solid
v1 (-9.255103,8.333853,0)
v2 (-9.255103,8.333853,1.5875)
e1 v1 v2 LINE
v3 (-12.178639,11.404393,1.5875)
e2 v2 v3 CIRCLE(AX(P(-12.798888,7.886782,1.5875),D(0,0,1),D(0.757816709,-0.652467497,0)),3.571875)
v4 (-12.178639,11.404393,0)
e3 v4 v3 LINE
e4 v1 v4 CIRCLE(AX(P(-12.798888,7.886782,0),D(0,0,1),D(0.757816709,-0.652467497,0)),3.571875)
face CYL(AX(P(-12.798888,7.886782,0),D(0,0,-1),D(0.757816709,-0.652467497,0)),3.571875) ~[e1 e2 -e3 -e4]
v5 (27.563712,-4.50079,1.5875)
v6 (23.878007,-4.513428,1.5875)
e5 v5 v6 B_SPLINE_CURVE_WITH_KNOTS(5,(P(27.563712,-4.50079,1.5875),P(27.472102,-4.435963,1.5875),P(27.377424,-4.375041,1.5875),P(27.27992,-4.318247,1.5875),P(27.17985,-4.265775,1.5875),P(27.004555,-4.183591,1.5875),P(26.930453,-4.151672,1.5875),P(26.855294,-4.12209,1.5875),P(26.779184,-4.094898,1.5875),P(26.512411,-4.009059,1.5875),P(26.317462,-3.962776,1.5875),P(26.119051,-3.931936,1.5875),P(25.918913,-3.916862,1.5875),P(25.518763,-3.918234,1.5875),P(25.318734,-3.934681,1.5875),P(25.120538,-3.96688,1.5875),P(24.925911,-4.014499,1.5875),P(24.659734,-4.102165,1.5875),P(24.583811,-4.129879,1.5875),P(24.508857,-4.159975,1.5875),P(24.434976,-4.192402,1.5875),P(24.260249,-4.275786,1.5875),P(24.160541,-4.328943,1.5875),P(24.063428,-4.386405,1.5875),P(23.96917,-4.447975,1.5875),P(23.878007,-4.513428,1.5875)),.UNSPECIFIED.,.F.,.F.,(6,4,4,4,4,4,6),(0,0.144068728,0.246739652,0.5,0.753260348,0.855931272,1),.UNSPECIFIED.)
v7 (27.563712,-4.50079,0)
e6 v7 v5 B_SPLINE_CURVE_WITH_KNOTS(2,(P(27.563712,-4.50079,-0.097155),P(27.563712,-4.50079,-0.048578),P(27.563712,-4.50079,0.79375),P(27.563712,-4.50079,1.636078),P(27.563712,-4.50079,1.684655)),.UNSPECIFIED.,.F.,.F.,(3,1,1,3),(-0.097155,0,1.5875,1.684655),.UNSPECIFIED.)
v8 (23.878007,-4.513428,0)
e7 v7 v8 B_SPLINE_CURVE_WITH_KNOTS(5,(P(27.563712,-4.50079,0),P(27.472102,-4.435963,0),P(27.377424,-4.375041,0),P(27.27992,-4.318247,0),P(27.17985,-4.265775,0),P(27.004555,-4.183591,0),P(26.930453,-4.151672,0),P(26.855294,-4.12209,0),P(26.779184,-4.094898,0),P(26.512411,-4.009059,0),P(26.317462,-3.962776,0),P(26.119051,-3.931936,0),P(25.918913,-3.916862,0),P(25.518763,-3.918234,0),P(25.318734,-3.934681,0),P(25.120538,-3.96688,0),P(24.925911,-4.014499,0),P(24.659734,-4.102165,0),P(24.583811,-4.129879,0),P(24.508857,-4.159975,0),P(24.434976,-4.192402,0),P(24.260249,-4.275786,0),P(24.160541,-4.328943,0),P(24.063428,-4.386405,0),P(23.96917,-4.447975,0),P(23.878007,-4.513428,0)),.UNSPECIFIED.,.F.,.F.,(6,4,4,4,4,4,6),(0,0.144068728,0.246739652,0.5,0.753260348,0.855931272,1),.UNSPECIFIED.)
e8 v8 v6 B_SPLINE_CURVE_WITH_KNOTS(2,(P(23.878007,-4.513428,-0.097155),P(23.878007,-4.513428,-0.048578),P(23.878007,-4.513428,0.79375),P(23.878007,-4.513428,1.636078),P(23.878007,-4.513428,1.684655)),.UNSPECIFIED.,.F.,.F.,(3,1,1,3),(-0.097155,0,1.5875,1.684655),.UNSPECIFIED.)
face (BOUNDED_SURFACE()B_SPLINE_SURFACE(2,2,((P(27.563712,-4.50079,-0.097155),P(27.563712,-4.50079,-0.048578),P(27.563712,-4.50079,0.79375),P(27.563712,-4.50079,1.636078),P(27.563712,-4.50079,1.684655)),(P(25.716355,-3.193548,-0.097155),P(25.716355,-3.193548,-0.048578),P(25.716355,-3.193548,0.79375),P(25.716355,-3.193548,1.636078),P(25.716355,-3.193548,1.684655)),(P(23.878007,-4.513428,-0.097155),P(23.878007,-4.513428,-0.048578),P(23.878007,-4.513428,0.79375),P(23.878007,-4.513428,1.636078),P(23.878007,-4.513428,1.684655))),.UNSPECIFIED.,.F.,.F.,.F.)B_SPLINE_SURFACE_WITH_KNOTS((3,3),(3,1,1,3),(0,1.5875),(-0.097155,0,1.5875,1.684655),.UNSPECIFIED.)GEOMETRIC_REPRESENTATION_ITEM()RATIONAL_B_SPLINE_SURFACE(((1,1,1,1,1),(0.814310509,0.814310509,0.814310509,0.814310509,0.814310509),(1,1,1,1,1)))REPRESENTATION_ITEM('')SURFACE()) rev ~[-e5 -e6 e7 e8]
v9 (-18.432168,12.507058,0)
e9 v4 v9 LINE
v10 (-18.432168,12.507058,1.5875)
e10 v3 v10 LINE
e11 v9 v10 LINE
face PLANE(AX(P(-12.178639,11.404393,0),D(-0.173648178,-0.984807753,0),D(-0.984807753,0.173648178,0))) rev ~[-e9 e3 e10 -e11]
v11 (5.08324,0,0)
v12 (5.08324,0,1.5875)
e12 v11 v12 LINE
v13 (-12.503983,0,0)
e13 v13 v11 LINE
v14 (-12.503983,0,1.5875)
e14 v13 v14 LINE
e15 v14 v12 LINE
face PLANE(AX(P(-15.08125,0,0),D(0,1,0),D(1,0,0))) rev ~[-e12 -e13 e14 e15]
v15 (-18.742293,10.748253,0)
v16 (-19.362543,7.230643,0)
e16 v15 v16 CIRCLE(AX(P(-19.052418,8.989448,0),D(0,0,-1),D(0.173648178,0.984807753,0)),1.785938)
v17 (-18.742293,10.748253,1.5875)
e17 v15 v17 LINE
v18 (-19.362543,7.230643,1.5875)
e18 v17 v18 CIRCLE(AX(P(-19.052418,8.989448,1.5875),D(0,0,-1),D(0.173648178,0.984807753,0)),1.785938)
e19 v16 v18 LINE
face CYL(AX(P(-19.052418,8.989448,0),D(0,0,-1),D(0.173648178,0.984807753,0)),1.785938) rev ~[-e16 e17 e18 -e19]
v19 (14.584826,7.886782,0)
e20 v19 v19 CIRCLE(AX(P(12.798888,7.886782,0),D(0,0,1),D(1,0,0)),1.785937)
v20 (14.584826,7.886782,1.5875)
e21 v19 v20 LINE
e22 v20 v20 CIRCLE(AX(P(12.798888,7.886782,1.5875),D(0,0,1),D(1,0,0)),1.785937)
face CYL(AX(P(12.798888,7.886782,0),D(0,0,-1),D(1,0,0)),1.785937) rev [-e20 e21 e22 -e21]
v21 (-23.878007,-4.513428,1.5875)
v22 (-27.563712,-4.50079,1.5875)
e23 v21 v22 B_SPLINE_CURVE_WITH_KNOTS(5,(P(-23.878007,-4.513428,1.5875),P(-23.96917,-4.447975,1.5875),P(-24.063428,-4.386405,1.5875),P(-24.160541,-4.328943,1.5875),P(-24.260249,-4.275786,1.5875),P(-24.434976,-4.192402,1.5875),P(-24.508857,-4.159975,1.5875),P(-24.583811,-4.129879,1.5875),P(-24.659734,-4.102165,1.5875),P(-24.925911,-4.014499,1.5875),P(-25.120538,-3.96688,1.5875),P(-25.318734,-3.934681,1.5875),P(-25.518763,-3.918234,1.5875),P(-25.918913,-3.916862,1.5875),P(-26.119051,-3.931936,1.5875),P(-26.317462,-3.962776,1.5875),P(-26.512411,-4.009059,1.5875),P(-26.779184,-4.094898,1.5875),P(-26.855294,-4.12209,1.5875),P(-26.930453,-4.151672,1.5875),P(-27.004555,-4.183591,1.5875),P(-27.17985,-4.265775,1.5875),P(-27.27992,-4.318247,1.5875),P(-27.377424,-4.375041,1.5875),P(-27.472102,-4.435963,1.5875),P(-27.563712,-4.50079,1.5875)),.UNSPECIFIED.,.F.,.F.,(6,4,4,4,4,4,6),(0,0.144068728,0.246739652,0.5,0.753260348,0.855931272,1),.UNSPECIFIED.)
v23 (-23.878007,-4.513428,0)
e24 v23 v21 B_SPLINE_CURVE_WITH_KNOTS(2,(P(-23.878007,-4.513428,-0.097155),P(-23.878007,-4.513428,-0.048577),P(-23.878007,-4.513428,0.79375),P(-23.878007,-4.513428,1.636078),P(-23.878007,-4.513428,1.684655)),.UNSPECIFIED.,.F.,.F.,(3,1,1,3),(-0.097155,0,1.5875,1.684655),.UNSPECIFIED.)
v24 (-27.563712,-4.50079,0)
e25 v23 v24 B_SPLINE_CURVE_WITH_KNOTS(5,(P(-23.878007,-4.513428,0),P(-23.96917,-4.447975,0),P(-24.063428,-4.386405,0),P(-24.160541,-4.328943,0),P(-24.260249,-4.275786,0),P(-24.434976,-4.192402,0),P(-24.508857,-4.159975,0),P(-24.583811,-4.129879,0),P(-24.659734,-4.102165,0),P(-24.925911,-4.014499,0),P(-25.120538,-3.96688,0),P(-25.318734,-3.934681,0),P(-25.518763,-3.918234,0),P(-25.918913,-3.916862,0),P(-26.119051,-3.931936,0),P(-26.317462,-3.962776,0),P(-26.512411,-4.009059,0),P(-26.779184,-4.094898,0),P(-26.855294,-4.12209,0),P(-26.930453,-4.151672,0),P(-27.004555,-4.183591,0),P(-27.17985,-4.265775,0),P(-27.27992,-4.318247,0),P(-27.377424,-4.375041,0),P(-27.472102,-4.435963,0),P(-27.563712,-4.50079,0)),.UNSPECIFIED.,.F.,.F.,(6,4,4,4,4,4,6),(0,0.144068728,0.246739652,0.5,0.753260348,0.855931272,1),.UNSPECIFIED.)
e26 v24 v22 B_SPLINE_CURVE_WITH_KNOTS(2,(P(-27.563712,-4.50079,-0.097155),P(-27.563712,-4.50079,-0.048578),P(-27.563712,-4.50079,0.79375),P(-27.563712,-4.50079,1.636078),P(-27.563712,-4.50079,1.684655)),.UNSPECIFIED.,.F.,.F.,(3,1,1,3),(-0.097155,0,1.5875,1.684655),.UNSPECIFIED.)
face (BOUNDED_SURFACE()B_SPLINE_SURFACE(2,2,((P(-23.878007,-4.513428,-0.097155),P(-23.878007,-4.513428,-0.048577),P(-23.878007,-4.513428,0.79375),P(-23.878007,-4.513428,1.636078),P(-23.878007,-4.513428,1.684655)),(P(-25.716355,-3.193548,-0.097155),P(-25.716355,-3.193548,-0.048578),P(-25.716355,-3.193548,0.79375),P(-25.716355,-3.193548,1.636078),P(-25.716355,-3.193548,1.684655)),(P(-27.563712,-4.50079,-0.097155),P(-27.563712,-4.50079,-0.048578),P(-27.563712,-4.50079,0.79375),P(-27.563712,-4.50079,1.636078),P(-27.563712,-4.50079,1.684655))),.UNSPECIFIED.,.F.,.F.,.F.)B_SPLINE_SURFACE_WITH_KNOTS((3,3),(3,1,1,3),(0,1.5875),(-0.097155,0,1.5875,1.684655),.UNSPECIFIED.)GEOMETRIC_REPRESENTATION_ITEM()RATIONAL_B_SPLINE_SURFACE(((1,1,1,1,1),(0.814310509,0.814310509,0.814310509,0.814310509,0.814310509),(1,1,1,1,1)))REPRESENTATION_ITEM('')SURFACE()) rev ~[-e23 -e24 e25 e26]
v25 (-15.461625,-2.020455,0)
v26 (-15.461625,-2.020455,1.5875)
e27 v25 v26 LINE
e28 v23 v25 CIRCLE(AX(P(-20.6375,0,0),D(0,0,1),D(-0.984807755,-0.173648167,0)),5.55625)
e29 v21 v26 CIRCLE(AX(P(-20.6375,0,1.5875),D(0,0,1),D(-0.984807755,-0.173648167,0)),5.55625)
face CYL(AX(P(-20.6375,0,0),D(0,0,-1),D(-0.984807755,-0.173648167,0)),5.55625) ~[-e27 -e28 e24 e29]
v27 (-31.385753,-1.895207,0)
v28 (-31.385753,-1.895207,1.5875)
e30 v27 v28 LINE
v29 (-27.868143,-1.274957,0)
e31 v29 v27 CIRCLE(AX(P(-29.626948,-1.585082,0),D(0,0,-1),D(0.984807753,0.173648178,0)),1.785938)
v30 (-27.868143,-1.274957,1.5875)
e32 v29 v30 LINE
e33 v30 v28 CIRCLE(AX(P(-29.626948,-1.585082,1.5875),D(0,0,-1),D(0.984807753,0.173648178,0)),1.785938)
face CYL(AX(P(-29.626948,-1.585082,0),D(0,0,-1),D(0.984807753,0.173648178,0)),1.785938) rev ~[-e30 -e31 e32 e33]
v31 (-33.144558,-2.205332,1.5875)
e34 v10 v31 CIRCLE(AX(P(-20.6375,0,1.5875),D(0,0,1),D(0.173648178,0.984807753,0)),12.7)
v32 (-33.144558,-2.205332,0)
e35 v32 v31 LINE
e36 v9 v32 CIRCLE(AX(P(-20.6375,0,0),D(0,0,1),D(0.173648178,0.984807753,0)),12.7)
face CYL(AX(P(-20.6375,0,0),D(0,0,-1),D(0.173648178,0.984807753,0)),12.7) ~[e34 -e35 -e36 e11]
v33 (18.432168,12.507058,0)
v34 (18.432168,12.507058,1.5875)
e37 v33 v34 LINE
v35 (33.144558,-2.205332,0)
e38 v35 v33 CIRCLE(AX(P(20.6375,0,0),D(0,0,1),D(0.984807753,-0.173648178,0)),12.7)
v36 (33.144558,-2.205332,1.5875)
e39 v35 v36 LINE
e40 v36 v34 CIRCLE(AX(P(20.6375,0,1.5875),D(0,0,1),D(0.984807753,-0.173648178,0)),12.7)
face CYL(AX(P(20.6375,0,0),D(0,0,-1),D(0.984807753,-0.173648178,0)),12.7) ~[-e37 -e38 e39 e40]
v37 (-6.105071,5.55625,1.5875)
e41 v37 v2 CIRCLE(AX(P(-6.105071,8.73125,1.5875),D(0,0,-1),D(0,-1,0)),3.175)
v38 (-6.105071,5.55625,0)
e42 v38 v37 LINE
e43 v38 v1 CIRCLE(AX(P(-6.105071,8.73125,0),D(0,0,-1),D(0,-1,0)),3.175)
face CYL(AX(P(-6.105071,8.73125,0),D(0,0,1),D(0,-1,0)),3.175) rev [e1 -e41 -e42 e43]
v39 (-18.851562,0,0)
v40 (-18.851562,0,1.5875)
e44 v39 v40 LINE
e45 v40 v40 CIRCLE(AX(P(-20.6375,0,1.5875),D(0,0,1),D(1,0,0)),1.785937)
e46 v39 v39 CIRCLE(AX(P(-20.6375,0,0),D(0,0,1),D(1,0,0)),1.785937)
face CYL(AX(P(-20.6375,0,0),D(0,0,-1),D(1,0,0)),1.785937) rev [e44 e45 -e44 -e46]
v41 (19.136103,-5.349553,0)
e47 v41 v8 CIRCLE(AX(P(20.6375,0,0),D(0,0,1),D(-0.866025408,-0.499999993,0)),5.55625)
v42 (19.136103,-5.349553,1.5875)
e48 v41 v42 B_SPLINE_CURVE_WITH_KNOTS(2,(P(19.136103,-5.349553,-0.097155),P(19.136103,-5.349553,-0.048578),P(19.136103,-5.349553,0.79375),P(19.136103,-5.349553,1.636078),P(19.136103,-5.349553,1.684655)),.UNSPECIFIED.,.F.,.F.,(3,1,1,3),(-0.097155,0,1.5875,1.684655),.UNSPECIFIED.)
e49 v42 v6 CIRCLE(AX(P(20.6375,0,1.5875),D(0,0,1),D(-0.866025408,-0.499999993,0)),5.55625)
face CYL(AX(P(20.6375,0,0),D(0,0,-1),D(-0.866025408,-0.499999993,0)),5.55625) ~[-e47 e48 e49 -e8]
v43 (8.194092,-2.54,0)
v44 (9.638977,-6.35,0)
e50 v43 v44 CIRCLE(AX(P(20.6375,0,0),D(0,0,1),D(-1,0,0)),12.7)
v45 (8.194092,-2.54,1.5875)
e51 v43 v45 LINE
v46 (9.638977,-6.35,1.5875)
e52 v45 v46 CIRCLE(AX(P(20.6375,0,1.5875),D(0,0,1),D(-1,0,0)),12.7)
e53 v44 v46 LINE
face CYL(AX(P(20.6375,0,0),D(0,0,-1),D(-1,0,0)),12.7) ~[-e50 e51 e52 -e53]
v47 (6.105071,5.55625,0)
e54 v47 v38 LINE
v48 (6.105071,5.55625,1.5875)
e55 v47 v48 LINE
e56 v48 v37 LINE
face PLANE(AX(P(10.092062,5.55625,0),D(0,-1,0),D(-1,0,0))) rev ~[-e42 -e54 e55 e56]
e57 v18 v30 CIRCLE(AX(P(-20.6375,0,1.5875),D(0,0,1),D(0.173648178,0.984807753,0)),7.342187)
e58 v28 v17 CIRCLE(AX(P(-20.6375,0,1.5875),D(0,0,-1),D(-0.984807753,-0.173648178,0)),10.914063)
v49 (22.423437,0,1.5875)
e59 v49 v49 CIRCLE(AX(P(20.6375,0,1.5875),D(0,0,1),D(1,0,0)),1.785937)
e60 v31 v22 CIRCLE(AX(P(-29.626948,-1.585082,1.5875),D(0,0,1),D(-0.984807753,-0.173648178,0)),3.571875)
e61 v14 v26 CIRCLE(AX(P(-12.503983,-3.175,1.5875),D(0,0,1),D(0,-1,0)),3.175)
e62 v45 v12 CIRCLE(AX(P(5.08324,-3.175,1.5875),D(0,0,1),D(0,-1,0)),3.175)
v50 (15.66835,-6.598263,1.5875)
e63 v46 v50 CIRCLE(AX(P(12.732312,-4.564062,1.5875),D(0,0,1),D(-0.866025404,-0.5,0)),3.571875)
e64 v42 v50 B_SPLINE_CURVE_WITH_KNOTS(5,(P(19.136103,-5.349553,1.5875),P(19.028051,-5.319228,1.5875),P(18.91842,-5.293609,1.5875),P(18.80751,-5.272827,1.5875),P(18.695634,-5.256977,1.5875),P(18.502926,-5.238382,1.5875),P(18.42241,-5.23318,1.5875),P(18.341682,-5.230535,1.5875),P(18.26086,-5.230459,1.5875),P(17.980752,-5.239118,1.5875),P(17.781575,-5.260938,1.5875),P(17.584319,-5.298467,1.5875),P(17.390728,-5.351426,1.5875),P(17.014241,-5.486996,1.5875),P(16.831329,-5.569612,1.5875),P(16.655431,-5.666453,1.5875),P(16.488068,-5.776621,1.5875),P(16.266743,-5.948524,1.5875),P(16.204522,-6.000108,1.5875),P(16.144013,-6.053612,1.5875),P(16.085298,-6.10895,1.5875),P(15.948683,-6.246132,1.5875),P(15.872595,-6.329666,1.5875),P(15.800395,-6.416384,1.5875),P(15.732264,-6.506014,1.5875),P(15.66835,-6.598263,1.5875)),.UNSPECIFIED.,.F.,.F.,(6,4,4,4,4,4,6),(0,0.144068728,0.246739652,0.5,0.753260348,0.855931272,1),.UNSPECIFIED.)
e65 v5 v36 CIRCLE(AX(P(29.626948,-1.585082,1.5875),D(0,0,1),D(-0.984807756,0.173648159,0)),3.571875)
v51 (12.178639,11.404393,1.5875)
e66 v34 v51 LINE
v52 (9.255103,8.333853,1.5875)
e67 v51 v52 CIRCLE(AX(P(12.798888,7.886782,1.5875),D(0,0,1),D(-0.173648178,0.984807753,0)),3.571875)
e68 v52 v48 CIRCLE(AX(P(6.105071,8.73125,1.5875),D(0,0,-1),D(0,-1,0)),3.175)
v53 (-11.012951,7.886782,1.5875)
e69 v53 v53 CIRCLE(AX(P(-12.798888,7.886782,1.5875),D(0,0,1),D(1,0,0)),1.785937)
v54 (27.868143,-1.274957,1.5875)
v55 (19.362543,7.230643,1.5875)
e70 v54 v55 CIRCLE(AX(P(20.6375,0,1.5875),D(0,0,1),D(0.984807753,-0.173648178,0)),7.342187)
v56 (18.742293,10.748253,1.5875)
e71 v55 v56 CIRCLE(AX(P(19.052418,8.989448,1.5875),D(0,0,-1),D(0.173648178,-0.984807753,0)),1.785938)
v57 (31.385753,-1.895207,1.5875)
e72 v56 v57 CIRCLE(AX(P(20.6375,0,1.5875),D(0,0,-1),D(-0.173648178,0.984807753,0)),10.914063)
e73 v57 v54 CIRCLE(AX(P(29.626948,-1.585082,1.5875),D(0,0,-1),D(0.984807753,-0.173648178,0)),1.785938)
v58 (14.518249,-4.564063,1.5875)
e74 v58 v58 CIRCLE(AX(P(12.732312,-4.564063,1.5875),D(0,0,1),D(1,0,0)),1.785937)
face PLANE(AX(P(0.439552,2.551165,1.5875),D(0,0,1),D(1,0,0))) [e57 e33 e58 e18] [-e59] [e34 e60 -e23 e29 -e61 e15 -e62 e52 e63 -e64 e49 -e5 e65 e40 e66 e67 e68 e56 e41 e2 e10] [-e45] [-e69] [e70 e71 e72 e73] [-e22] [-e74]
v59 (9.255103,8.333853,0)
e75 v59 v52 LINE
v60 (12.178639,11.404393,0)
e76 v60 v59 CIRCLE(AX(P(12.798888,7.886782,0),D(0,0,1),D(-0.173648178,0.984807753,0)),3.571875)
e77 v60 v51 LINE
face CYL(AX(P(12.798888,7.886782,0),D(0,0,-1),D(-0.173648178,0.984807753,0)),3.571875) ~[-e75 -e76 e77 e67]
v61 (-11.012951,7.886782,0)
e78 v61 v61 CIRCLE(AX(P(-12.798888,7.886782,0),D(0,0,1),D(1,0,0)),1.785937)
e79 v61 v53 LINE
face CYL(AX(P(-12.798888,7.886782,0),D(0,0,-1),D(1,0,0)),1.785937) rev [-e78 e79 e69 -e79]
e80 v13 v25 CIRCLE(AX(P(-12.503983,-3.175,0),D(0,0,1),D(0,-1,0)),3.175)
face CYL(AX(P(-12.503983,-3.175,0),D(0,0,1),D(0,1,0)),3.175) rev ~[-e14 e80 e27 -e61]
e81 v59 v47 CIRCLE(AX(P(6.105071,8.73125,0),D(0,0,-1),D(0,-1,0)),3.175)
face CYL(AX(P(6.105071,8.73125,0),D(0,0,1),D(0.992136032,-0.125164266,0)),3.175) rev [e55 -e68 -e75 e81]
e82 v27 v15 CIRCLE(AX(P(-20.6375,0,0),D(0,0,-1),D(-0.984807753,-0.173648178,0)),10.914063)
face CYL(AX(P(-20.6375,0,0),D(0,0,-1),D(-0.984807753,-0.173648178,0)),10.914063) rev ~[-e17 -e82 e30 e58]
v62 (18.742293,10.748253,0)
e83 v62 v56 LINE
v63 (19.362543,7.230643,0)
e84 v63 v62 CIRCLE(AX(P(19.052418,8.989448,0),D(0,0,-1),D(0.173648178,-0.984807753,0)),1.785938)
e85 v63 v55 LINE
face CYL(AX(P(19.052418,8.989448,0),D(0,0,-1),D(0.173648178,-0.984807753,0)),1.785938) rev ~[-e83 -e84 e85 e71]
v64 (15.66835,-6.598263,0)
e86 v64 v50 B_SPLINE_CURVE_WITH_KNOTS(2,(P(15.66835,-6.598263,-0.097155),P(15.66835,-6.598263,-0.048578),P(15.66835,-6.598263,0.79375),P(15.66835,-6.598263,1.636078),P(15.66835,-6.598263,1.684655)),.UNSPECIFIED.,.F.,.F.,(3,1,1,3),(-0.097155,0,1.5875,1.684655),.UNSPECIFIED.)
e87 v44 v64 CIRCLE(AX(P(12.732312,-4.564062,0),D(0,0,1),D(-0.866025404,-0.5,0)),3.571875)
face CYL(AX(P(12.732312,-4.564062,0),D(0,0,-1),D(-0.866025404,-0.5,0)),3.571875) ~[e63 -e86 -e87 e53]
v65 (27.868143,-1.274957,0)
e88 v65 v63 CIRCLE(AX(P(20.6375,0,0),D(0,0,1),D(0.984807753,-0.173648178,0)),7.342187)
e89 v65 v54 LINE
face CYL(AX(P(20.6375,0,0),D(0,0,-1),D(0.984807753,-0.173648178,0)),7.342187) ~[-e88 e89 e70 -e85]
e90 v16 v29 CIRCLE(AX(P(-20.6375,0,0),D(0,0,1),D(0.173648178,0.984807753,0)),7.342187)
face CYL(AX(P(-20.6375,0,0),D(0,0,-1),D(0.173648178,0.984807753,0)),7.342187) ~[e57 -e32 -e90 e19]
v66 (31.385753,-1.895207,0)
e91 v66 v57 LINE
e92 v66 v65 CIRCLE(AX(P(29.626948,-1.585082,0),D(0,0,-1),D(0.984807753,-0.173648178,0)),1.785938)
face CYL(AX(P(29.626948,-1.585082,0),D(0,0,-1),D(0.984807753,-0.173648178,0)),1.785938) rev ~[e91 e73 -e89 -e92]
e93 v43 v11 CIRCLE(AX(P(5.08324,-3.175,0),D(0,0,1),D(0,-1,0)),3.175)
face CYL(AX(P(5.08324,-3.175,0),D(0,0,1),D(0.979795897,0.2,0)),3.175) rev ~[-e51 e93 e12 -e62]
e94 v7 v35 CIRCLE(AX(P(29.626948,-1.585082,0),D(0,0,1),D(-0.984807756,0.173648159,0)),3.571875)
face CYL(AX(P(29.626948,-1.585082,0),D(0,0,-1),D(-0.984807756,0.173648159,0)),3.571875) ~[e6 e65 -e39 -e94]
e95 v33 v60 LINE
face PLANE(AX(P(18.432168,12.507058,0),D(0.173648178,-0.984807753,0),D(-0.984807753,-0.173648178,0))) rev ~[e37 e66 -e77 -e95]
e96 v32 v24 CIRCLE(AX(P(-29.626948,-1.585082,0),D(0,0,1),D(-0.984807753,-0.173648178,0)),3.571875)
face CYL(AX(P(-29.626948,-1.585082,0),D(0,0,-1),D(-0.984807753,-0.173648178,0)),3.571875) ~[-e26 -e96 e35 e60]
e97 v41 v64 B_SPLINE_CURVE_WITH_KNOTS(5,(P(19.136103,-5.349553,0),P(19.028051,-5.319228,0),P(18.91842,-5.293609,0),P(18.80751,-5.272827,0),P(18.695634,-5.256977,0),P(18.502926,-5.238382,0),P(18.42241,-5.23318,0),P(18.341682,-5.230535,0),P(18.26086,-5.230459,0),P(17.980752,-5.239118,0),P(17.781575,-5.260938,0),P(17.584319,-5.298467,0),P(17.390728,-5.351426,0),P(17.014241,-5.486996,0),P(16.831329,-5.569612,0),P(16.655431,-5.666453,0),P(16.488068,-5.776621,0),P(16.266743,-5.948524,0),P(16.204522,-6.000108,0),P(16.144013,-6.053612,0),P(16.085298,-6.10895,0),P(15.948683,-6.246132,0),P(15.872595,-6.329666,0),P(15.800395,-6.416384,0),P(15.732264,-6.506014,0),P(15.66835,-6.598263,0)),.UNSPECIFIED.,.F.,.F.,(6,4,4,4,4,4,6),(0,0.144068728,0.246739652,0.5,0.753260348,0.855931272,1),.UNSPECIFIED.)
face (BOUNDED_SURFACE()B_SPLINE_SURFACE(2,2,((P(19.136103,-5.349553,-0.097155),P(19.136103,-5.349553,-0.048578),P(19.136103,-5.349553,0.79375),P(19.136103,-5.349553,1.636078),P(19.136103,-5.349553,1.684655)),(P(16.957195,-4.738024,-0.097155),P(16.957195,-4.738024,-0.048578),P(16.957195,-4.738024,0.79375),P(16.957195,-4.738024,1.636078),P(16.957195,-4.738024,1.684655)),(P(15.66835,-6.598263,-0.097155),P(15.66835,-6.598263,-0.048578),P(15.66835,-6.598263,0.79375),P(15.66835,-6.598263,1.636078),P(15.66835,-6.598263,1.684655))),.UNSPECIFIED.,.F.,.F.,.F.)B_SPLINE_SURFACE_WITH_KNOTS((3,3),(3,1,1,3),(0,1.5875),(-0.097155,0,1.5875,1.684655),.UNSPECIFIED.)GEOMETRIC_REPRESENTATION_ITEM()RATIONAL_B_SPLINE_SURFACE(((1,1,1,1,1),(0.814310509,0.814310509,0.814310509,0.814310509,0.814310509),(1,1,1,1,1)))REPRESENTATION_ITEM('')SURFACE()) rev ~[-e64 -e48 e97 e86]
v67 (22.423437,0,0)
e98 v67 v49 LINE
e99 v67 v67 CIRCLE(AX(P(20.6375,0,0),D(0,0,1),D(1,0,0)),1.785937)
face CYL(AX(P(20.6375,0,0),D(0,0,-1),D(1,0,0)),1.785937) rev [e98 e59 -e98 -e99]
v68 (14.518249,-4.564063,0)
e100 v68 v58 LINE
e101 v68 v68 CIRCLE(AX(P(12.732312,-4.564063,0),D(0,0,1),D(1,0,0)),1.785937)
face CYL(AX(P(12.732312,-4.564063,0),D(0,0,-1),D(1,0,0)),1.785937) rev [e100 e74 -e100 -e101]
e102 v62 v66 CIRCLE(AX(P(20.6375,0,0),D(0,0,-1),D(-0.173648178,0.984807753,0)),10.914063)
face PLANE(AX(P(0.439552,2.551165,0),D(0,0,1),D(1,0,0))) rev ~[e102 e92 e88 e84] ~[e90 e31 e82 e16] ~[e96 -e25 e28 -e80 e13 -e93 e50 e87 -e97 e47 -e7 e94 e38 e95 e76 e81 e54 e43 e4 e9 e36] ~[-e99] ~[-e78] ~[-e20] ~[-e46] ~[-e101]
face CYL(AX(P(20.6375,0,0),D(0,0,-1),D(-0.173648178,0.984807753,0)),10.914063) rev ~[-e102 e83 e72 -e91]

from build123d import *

# Parameters (mm, degrees)
SKETCH1_R           = 1.7859375
BOSS_EXTRUDE1_DEPTH = 1.5875
FILLET1_R           = 3.175


with BuildPart() as part:
    # Sketch1 → Boss-Extrude1 (new body)
    with BuildSketch(Plane.XY):
        with BuildLine():
            ThreePointArc((33.144558463, -2.205331856), (29.617756121, 8.980256121), (18.432168144, 12.507058463))
            Line((18.432168144, 12.507058463), (12.178638912, 11.404392535))
            ThreePointArc((12.178638912, 11.404392535), (9.43473159, 9.087090354), (10.092061938, 5.55625))
            Line((10.092061938, 5.55625), (-10.092061938, 5.55625))
            ThreePointArc((-10.092061938, 5.55625), (-9.43473159, 9.087090354), (-12.178638912, 11.404392535))
            Line((-12.178638912, 11.404392535), (-18.432168144, 12.507058463))
            ThreePointArc((-18.432168144, 12.507058463), (-29.617756121, 8.980256121), (-33.144558463, -2.205331856))
            ThreePointArc((-33.144558463, -2.205331856), (-29.006698655, -5.102692459), (-26.109338088, -0.964832626))
            ThreePointArc((-26.109338088, -0.964832626), (-20.153240935, -5.535106794), (-15.08125, 0))
            Line((-15.08125, 0), (7.9375, 0))
            ThreePointArc((7.9375, 0), (8.370242006, -3.287001873), (9.638977372, -6.35))
            ThreePointArc((9.638977372, -6.35), (14.51824938, -7.657396978), (15.825646329, -2.778124963))
            ThreePointArc((15.825646329, -2.778124963), (21.602332634, -5.471838087), (26.109338066, -0.964832752))
            ThreePointArc((26.109338066, -0.964832752), (29.006698718, -5.10269247), (33.144558463, -2.205331856))
        make_face()
        with Locations((-20.6375, 0)):
            Circle(SKETCH1_R, mode=Mode.SUBTRACT)
        with Locations((12.732311861, -4.5640625)):
            Circle(SKETCH1_R, mode=Mode.SUBTRACT)
        with Locations((20.6375, 0)):
            Circle(SKETCH1_R, mode=Mode.SUBTRACT)
        with BuildLine():
            ThreePointArc((-31.385753367, -1.895207064), (-28.354907604, 7.717407604), (-18.742292936, 10.748253367))
            ThreePointArc((-18.742292936, 10.748253367), (-17.293612632, 8.679323478), (-19.362542521, 7.230643174))
            ThreePointArc((-19.362542521, 7.230643174), (-25.82921057, 5.19171057), (-27.868143174, -1.274957479))
            ThreePointArc((-27.868143174, -1.274957479), (-29.316823478, -3.343887368), (-31.385753367, -1.895207064))
        make_face(mode=Mode.SUBTRACT)
        with Locations((-12.798888497, 7.886782342)):
            Circle(SKETCH1_R, mode=Mode.SUBTRACT)
        with BuildLine():
            ThreePointArc((18.742292936, 10.748253367), (28.354907604, 7.717407604), (31.385753367, -1.895207064))
            ThreePointArc((31.385753367, -1.895207064), (29.316823478, -3.343887368), (27.868143174, -1.274957479))
            ThreePointArc((27.868143174, -1.274957479), (25.82921057, 5.19171057), (19.362542521, 7.230643174))
            ThreePointArc((19.362542521, 7.230643174), (17.293612632, 8.679323478), (18.742292936, 10.748253367))
        make_face(mode=Mode.SUBTRACT)
        with Locations((12.798888497, 7.886782342)):
            Circle(SKETCH1_R, mode=Mode.SUBTRACT)
    extrude(amount=BOSS_EXTRUDE1_DEPTH)

    # Fillet1
    fillet1_edges = [part.edges().sort_by_distance(p)[0] for p in [
        (26.109338066, -0.964832752, 0.79375),
        (15.825646329, -2.778124963, 0.79375),
        (7.9375, 0, 0.79375),
        (-15.08125, 0, 0.79375),
        (-26.109338088, -0.964832626, 0.79375),
        (-10.092061938, 5.55625, 0.79375),
        (10.092061938, 5.55625, 0.79375),
    ]]
    fillet(fillet1_edges, radius=FILLET1_R)


solid = part.part
